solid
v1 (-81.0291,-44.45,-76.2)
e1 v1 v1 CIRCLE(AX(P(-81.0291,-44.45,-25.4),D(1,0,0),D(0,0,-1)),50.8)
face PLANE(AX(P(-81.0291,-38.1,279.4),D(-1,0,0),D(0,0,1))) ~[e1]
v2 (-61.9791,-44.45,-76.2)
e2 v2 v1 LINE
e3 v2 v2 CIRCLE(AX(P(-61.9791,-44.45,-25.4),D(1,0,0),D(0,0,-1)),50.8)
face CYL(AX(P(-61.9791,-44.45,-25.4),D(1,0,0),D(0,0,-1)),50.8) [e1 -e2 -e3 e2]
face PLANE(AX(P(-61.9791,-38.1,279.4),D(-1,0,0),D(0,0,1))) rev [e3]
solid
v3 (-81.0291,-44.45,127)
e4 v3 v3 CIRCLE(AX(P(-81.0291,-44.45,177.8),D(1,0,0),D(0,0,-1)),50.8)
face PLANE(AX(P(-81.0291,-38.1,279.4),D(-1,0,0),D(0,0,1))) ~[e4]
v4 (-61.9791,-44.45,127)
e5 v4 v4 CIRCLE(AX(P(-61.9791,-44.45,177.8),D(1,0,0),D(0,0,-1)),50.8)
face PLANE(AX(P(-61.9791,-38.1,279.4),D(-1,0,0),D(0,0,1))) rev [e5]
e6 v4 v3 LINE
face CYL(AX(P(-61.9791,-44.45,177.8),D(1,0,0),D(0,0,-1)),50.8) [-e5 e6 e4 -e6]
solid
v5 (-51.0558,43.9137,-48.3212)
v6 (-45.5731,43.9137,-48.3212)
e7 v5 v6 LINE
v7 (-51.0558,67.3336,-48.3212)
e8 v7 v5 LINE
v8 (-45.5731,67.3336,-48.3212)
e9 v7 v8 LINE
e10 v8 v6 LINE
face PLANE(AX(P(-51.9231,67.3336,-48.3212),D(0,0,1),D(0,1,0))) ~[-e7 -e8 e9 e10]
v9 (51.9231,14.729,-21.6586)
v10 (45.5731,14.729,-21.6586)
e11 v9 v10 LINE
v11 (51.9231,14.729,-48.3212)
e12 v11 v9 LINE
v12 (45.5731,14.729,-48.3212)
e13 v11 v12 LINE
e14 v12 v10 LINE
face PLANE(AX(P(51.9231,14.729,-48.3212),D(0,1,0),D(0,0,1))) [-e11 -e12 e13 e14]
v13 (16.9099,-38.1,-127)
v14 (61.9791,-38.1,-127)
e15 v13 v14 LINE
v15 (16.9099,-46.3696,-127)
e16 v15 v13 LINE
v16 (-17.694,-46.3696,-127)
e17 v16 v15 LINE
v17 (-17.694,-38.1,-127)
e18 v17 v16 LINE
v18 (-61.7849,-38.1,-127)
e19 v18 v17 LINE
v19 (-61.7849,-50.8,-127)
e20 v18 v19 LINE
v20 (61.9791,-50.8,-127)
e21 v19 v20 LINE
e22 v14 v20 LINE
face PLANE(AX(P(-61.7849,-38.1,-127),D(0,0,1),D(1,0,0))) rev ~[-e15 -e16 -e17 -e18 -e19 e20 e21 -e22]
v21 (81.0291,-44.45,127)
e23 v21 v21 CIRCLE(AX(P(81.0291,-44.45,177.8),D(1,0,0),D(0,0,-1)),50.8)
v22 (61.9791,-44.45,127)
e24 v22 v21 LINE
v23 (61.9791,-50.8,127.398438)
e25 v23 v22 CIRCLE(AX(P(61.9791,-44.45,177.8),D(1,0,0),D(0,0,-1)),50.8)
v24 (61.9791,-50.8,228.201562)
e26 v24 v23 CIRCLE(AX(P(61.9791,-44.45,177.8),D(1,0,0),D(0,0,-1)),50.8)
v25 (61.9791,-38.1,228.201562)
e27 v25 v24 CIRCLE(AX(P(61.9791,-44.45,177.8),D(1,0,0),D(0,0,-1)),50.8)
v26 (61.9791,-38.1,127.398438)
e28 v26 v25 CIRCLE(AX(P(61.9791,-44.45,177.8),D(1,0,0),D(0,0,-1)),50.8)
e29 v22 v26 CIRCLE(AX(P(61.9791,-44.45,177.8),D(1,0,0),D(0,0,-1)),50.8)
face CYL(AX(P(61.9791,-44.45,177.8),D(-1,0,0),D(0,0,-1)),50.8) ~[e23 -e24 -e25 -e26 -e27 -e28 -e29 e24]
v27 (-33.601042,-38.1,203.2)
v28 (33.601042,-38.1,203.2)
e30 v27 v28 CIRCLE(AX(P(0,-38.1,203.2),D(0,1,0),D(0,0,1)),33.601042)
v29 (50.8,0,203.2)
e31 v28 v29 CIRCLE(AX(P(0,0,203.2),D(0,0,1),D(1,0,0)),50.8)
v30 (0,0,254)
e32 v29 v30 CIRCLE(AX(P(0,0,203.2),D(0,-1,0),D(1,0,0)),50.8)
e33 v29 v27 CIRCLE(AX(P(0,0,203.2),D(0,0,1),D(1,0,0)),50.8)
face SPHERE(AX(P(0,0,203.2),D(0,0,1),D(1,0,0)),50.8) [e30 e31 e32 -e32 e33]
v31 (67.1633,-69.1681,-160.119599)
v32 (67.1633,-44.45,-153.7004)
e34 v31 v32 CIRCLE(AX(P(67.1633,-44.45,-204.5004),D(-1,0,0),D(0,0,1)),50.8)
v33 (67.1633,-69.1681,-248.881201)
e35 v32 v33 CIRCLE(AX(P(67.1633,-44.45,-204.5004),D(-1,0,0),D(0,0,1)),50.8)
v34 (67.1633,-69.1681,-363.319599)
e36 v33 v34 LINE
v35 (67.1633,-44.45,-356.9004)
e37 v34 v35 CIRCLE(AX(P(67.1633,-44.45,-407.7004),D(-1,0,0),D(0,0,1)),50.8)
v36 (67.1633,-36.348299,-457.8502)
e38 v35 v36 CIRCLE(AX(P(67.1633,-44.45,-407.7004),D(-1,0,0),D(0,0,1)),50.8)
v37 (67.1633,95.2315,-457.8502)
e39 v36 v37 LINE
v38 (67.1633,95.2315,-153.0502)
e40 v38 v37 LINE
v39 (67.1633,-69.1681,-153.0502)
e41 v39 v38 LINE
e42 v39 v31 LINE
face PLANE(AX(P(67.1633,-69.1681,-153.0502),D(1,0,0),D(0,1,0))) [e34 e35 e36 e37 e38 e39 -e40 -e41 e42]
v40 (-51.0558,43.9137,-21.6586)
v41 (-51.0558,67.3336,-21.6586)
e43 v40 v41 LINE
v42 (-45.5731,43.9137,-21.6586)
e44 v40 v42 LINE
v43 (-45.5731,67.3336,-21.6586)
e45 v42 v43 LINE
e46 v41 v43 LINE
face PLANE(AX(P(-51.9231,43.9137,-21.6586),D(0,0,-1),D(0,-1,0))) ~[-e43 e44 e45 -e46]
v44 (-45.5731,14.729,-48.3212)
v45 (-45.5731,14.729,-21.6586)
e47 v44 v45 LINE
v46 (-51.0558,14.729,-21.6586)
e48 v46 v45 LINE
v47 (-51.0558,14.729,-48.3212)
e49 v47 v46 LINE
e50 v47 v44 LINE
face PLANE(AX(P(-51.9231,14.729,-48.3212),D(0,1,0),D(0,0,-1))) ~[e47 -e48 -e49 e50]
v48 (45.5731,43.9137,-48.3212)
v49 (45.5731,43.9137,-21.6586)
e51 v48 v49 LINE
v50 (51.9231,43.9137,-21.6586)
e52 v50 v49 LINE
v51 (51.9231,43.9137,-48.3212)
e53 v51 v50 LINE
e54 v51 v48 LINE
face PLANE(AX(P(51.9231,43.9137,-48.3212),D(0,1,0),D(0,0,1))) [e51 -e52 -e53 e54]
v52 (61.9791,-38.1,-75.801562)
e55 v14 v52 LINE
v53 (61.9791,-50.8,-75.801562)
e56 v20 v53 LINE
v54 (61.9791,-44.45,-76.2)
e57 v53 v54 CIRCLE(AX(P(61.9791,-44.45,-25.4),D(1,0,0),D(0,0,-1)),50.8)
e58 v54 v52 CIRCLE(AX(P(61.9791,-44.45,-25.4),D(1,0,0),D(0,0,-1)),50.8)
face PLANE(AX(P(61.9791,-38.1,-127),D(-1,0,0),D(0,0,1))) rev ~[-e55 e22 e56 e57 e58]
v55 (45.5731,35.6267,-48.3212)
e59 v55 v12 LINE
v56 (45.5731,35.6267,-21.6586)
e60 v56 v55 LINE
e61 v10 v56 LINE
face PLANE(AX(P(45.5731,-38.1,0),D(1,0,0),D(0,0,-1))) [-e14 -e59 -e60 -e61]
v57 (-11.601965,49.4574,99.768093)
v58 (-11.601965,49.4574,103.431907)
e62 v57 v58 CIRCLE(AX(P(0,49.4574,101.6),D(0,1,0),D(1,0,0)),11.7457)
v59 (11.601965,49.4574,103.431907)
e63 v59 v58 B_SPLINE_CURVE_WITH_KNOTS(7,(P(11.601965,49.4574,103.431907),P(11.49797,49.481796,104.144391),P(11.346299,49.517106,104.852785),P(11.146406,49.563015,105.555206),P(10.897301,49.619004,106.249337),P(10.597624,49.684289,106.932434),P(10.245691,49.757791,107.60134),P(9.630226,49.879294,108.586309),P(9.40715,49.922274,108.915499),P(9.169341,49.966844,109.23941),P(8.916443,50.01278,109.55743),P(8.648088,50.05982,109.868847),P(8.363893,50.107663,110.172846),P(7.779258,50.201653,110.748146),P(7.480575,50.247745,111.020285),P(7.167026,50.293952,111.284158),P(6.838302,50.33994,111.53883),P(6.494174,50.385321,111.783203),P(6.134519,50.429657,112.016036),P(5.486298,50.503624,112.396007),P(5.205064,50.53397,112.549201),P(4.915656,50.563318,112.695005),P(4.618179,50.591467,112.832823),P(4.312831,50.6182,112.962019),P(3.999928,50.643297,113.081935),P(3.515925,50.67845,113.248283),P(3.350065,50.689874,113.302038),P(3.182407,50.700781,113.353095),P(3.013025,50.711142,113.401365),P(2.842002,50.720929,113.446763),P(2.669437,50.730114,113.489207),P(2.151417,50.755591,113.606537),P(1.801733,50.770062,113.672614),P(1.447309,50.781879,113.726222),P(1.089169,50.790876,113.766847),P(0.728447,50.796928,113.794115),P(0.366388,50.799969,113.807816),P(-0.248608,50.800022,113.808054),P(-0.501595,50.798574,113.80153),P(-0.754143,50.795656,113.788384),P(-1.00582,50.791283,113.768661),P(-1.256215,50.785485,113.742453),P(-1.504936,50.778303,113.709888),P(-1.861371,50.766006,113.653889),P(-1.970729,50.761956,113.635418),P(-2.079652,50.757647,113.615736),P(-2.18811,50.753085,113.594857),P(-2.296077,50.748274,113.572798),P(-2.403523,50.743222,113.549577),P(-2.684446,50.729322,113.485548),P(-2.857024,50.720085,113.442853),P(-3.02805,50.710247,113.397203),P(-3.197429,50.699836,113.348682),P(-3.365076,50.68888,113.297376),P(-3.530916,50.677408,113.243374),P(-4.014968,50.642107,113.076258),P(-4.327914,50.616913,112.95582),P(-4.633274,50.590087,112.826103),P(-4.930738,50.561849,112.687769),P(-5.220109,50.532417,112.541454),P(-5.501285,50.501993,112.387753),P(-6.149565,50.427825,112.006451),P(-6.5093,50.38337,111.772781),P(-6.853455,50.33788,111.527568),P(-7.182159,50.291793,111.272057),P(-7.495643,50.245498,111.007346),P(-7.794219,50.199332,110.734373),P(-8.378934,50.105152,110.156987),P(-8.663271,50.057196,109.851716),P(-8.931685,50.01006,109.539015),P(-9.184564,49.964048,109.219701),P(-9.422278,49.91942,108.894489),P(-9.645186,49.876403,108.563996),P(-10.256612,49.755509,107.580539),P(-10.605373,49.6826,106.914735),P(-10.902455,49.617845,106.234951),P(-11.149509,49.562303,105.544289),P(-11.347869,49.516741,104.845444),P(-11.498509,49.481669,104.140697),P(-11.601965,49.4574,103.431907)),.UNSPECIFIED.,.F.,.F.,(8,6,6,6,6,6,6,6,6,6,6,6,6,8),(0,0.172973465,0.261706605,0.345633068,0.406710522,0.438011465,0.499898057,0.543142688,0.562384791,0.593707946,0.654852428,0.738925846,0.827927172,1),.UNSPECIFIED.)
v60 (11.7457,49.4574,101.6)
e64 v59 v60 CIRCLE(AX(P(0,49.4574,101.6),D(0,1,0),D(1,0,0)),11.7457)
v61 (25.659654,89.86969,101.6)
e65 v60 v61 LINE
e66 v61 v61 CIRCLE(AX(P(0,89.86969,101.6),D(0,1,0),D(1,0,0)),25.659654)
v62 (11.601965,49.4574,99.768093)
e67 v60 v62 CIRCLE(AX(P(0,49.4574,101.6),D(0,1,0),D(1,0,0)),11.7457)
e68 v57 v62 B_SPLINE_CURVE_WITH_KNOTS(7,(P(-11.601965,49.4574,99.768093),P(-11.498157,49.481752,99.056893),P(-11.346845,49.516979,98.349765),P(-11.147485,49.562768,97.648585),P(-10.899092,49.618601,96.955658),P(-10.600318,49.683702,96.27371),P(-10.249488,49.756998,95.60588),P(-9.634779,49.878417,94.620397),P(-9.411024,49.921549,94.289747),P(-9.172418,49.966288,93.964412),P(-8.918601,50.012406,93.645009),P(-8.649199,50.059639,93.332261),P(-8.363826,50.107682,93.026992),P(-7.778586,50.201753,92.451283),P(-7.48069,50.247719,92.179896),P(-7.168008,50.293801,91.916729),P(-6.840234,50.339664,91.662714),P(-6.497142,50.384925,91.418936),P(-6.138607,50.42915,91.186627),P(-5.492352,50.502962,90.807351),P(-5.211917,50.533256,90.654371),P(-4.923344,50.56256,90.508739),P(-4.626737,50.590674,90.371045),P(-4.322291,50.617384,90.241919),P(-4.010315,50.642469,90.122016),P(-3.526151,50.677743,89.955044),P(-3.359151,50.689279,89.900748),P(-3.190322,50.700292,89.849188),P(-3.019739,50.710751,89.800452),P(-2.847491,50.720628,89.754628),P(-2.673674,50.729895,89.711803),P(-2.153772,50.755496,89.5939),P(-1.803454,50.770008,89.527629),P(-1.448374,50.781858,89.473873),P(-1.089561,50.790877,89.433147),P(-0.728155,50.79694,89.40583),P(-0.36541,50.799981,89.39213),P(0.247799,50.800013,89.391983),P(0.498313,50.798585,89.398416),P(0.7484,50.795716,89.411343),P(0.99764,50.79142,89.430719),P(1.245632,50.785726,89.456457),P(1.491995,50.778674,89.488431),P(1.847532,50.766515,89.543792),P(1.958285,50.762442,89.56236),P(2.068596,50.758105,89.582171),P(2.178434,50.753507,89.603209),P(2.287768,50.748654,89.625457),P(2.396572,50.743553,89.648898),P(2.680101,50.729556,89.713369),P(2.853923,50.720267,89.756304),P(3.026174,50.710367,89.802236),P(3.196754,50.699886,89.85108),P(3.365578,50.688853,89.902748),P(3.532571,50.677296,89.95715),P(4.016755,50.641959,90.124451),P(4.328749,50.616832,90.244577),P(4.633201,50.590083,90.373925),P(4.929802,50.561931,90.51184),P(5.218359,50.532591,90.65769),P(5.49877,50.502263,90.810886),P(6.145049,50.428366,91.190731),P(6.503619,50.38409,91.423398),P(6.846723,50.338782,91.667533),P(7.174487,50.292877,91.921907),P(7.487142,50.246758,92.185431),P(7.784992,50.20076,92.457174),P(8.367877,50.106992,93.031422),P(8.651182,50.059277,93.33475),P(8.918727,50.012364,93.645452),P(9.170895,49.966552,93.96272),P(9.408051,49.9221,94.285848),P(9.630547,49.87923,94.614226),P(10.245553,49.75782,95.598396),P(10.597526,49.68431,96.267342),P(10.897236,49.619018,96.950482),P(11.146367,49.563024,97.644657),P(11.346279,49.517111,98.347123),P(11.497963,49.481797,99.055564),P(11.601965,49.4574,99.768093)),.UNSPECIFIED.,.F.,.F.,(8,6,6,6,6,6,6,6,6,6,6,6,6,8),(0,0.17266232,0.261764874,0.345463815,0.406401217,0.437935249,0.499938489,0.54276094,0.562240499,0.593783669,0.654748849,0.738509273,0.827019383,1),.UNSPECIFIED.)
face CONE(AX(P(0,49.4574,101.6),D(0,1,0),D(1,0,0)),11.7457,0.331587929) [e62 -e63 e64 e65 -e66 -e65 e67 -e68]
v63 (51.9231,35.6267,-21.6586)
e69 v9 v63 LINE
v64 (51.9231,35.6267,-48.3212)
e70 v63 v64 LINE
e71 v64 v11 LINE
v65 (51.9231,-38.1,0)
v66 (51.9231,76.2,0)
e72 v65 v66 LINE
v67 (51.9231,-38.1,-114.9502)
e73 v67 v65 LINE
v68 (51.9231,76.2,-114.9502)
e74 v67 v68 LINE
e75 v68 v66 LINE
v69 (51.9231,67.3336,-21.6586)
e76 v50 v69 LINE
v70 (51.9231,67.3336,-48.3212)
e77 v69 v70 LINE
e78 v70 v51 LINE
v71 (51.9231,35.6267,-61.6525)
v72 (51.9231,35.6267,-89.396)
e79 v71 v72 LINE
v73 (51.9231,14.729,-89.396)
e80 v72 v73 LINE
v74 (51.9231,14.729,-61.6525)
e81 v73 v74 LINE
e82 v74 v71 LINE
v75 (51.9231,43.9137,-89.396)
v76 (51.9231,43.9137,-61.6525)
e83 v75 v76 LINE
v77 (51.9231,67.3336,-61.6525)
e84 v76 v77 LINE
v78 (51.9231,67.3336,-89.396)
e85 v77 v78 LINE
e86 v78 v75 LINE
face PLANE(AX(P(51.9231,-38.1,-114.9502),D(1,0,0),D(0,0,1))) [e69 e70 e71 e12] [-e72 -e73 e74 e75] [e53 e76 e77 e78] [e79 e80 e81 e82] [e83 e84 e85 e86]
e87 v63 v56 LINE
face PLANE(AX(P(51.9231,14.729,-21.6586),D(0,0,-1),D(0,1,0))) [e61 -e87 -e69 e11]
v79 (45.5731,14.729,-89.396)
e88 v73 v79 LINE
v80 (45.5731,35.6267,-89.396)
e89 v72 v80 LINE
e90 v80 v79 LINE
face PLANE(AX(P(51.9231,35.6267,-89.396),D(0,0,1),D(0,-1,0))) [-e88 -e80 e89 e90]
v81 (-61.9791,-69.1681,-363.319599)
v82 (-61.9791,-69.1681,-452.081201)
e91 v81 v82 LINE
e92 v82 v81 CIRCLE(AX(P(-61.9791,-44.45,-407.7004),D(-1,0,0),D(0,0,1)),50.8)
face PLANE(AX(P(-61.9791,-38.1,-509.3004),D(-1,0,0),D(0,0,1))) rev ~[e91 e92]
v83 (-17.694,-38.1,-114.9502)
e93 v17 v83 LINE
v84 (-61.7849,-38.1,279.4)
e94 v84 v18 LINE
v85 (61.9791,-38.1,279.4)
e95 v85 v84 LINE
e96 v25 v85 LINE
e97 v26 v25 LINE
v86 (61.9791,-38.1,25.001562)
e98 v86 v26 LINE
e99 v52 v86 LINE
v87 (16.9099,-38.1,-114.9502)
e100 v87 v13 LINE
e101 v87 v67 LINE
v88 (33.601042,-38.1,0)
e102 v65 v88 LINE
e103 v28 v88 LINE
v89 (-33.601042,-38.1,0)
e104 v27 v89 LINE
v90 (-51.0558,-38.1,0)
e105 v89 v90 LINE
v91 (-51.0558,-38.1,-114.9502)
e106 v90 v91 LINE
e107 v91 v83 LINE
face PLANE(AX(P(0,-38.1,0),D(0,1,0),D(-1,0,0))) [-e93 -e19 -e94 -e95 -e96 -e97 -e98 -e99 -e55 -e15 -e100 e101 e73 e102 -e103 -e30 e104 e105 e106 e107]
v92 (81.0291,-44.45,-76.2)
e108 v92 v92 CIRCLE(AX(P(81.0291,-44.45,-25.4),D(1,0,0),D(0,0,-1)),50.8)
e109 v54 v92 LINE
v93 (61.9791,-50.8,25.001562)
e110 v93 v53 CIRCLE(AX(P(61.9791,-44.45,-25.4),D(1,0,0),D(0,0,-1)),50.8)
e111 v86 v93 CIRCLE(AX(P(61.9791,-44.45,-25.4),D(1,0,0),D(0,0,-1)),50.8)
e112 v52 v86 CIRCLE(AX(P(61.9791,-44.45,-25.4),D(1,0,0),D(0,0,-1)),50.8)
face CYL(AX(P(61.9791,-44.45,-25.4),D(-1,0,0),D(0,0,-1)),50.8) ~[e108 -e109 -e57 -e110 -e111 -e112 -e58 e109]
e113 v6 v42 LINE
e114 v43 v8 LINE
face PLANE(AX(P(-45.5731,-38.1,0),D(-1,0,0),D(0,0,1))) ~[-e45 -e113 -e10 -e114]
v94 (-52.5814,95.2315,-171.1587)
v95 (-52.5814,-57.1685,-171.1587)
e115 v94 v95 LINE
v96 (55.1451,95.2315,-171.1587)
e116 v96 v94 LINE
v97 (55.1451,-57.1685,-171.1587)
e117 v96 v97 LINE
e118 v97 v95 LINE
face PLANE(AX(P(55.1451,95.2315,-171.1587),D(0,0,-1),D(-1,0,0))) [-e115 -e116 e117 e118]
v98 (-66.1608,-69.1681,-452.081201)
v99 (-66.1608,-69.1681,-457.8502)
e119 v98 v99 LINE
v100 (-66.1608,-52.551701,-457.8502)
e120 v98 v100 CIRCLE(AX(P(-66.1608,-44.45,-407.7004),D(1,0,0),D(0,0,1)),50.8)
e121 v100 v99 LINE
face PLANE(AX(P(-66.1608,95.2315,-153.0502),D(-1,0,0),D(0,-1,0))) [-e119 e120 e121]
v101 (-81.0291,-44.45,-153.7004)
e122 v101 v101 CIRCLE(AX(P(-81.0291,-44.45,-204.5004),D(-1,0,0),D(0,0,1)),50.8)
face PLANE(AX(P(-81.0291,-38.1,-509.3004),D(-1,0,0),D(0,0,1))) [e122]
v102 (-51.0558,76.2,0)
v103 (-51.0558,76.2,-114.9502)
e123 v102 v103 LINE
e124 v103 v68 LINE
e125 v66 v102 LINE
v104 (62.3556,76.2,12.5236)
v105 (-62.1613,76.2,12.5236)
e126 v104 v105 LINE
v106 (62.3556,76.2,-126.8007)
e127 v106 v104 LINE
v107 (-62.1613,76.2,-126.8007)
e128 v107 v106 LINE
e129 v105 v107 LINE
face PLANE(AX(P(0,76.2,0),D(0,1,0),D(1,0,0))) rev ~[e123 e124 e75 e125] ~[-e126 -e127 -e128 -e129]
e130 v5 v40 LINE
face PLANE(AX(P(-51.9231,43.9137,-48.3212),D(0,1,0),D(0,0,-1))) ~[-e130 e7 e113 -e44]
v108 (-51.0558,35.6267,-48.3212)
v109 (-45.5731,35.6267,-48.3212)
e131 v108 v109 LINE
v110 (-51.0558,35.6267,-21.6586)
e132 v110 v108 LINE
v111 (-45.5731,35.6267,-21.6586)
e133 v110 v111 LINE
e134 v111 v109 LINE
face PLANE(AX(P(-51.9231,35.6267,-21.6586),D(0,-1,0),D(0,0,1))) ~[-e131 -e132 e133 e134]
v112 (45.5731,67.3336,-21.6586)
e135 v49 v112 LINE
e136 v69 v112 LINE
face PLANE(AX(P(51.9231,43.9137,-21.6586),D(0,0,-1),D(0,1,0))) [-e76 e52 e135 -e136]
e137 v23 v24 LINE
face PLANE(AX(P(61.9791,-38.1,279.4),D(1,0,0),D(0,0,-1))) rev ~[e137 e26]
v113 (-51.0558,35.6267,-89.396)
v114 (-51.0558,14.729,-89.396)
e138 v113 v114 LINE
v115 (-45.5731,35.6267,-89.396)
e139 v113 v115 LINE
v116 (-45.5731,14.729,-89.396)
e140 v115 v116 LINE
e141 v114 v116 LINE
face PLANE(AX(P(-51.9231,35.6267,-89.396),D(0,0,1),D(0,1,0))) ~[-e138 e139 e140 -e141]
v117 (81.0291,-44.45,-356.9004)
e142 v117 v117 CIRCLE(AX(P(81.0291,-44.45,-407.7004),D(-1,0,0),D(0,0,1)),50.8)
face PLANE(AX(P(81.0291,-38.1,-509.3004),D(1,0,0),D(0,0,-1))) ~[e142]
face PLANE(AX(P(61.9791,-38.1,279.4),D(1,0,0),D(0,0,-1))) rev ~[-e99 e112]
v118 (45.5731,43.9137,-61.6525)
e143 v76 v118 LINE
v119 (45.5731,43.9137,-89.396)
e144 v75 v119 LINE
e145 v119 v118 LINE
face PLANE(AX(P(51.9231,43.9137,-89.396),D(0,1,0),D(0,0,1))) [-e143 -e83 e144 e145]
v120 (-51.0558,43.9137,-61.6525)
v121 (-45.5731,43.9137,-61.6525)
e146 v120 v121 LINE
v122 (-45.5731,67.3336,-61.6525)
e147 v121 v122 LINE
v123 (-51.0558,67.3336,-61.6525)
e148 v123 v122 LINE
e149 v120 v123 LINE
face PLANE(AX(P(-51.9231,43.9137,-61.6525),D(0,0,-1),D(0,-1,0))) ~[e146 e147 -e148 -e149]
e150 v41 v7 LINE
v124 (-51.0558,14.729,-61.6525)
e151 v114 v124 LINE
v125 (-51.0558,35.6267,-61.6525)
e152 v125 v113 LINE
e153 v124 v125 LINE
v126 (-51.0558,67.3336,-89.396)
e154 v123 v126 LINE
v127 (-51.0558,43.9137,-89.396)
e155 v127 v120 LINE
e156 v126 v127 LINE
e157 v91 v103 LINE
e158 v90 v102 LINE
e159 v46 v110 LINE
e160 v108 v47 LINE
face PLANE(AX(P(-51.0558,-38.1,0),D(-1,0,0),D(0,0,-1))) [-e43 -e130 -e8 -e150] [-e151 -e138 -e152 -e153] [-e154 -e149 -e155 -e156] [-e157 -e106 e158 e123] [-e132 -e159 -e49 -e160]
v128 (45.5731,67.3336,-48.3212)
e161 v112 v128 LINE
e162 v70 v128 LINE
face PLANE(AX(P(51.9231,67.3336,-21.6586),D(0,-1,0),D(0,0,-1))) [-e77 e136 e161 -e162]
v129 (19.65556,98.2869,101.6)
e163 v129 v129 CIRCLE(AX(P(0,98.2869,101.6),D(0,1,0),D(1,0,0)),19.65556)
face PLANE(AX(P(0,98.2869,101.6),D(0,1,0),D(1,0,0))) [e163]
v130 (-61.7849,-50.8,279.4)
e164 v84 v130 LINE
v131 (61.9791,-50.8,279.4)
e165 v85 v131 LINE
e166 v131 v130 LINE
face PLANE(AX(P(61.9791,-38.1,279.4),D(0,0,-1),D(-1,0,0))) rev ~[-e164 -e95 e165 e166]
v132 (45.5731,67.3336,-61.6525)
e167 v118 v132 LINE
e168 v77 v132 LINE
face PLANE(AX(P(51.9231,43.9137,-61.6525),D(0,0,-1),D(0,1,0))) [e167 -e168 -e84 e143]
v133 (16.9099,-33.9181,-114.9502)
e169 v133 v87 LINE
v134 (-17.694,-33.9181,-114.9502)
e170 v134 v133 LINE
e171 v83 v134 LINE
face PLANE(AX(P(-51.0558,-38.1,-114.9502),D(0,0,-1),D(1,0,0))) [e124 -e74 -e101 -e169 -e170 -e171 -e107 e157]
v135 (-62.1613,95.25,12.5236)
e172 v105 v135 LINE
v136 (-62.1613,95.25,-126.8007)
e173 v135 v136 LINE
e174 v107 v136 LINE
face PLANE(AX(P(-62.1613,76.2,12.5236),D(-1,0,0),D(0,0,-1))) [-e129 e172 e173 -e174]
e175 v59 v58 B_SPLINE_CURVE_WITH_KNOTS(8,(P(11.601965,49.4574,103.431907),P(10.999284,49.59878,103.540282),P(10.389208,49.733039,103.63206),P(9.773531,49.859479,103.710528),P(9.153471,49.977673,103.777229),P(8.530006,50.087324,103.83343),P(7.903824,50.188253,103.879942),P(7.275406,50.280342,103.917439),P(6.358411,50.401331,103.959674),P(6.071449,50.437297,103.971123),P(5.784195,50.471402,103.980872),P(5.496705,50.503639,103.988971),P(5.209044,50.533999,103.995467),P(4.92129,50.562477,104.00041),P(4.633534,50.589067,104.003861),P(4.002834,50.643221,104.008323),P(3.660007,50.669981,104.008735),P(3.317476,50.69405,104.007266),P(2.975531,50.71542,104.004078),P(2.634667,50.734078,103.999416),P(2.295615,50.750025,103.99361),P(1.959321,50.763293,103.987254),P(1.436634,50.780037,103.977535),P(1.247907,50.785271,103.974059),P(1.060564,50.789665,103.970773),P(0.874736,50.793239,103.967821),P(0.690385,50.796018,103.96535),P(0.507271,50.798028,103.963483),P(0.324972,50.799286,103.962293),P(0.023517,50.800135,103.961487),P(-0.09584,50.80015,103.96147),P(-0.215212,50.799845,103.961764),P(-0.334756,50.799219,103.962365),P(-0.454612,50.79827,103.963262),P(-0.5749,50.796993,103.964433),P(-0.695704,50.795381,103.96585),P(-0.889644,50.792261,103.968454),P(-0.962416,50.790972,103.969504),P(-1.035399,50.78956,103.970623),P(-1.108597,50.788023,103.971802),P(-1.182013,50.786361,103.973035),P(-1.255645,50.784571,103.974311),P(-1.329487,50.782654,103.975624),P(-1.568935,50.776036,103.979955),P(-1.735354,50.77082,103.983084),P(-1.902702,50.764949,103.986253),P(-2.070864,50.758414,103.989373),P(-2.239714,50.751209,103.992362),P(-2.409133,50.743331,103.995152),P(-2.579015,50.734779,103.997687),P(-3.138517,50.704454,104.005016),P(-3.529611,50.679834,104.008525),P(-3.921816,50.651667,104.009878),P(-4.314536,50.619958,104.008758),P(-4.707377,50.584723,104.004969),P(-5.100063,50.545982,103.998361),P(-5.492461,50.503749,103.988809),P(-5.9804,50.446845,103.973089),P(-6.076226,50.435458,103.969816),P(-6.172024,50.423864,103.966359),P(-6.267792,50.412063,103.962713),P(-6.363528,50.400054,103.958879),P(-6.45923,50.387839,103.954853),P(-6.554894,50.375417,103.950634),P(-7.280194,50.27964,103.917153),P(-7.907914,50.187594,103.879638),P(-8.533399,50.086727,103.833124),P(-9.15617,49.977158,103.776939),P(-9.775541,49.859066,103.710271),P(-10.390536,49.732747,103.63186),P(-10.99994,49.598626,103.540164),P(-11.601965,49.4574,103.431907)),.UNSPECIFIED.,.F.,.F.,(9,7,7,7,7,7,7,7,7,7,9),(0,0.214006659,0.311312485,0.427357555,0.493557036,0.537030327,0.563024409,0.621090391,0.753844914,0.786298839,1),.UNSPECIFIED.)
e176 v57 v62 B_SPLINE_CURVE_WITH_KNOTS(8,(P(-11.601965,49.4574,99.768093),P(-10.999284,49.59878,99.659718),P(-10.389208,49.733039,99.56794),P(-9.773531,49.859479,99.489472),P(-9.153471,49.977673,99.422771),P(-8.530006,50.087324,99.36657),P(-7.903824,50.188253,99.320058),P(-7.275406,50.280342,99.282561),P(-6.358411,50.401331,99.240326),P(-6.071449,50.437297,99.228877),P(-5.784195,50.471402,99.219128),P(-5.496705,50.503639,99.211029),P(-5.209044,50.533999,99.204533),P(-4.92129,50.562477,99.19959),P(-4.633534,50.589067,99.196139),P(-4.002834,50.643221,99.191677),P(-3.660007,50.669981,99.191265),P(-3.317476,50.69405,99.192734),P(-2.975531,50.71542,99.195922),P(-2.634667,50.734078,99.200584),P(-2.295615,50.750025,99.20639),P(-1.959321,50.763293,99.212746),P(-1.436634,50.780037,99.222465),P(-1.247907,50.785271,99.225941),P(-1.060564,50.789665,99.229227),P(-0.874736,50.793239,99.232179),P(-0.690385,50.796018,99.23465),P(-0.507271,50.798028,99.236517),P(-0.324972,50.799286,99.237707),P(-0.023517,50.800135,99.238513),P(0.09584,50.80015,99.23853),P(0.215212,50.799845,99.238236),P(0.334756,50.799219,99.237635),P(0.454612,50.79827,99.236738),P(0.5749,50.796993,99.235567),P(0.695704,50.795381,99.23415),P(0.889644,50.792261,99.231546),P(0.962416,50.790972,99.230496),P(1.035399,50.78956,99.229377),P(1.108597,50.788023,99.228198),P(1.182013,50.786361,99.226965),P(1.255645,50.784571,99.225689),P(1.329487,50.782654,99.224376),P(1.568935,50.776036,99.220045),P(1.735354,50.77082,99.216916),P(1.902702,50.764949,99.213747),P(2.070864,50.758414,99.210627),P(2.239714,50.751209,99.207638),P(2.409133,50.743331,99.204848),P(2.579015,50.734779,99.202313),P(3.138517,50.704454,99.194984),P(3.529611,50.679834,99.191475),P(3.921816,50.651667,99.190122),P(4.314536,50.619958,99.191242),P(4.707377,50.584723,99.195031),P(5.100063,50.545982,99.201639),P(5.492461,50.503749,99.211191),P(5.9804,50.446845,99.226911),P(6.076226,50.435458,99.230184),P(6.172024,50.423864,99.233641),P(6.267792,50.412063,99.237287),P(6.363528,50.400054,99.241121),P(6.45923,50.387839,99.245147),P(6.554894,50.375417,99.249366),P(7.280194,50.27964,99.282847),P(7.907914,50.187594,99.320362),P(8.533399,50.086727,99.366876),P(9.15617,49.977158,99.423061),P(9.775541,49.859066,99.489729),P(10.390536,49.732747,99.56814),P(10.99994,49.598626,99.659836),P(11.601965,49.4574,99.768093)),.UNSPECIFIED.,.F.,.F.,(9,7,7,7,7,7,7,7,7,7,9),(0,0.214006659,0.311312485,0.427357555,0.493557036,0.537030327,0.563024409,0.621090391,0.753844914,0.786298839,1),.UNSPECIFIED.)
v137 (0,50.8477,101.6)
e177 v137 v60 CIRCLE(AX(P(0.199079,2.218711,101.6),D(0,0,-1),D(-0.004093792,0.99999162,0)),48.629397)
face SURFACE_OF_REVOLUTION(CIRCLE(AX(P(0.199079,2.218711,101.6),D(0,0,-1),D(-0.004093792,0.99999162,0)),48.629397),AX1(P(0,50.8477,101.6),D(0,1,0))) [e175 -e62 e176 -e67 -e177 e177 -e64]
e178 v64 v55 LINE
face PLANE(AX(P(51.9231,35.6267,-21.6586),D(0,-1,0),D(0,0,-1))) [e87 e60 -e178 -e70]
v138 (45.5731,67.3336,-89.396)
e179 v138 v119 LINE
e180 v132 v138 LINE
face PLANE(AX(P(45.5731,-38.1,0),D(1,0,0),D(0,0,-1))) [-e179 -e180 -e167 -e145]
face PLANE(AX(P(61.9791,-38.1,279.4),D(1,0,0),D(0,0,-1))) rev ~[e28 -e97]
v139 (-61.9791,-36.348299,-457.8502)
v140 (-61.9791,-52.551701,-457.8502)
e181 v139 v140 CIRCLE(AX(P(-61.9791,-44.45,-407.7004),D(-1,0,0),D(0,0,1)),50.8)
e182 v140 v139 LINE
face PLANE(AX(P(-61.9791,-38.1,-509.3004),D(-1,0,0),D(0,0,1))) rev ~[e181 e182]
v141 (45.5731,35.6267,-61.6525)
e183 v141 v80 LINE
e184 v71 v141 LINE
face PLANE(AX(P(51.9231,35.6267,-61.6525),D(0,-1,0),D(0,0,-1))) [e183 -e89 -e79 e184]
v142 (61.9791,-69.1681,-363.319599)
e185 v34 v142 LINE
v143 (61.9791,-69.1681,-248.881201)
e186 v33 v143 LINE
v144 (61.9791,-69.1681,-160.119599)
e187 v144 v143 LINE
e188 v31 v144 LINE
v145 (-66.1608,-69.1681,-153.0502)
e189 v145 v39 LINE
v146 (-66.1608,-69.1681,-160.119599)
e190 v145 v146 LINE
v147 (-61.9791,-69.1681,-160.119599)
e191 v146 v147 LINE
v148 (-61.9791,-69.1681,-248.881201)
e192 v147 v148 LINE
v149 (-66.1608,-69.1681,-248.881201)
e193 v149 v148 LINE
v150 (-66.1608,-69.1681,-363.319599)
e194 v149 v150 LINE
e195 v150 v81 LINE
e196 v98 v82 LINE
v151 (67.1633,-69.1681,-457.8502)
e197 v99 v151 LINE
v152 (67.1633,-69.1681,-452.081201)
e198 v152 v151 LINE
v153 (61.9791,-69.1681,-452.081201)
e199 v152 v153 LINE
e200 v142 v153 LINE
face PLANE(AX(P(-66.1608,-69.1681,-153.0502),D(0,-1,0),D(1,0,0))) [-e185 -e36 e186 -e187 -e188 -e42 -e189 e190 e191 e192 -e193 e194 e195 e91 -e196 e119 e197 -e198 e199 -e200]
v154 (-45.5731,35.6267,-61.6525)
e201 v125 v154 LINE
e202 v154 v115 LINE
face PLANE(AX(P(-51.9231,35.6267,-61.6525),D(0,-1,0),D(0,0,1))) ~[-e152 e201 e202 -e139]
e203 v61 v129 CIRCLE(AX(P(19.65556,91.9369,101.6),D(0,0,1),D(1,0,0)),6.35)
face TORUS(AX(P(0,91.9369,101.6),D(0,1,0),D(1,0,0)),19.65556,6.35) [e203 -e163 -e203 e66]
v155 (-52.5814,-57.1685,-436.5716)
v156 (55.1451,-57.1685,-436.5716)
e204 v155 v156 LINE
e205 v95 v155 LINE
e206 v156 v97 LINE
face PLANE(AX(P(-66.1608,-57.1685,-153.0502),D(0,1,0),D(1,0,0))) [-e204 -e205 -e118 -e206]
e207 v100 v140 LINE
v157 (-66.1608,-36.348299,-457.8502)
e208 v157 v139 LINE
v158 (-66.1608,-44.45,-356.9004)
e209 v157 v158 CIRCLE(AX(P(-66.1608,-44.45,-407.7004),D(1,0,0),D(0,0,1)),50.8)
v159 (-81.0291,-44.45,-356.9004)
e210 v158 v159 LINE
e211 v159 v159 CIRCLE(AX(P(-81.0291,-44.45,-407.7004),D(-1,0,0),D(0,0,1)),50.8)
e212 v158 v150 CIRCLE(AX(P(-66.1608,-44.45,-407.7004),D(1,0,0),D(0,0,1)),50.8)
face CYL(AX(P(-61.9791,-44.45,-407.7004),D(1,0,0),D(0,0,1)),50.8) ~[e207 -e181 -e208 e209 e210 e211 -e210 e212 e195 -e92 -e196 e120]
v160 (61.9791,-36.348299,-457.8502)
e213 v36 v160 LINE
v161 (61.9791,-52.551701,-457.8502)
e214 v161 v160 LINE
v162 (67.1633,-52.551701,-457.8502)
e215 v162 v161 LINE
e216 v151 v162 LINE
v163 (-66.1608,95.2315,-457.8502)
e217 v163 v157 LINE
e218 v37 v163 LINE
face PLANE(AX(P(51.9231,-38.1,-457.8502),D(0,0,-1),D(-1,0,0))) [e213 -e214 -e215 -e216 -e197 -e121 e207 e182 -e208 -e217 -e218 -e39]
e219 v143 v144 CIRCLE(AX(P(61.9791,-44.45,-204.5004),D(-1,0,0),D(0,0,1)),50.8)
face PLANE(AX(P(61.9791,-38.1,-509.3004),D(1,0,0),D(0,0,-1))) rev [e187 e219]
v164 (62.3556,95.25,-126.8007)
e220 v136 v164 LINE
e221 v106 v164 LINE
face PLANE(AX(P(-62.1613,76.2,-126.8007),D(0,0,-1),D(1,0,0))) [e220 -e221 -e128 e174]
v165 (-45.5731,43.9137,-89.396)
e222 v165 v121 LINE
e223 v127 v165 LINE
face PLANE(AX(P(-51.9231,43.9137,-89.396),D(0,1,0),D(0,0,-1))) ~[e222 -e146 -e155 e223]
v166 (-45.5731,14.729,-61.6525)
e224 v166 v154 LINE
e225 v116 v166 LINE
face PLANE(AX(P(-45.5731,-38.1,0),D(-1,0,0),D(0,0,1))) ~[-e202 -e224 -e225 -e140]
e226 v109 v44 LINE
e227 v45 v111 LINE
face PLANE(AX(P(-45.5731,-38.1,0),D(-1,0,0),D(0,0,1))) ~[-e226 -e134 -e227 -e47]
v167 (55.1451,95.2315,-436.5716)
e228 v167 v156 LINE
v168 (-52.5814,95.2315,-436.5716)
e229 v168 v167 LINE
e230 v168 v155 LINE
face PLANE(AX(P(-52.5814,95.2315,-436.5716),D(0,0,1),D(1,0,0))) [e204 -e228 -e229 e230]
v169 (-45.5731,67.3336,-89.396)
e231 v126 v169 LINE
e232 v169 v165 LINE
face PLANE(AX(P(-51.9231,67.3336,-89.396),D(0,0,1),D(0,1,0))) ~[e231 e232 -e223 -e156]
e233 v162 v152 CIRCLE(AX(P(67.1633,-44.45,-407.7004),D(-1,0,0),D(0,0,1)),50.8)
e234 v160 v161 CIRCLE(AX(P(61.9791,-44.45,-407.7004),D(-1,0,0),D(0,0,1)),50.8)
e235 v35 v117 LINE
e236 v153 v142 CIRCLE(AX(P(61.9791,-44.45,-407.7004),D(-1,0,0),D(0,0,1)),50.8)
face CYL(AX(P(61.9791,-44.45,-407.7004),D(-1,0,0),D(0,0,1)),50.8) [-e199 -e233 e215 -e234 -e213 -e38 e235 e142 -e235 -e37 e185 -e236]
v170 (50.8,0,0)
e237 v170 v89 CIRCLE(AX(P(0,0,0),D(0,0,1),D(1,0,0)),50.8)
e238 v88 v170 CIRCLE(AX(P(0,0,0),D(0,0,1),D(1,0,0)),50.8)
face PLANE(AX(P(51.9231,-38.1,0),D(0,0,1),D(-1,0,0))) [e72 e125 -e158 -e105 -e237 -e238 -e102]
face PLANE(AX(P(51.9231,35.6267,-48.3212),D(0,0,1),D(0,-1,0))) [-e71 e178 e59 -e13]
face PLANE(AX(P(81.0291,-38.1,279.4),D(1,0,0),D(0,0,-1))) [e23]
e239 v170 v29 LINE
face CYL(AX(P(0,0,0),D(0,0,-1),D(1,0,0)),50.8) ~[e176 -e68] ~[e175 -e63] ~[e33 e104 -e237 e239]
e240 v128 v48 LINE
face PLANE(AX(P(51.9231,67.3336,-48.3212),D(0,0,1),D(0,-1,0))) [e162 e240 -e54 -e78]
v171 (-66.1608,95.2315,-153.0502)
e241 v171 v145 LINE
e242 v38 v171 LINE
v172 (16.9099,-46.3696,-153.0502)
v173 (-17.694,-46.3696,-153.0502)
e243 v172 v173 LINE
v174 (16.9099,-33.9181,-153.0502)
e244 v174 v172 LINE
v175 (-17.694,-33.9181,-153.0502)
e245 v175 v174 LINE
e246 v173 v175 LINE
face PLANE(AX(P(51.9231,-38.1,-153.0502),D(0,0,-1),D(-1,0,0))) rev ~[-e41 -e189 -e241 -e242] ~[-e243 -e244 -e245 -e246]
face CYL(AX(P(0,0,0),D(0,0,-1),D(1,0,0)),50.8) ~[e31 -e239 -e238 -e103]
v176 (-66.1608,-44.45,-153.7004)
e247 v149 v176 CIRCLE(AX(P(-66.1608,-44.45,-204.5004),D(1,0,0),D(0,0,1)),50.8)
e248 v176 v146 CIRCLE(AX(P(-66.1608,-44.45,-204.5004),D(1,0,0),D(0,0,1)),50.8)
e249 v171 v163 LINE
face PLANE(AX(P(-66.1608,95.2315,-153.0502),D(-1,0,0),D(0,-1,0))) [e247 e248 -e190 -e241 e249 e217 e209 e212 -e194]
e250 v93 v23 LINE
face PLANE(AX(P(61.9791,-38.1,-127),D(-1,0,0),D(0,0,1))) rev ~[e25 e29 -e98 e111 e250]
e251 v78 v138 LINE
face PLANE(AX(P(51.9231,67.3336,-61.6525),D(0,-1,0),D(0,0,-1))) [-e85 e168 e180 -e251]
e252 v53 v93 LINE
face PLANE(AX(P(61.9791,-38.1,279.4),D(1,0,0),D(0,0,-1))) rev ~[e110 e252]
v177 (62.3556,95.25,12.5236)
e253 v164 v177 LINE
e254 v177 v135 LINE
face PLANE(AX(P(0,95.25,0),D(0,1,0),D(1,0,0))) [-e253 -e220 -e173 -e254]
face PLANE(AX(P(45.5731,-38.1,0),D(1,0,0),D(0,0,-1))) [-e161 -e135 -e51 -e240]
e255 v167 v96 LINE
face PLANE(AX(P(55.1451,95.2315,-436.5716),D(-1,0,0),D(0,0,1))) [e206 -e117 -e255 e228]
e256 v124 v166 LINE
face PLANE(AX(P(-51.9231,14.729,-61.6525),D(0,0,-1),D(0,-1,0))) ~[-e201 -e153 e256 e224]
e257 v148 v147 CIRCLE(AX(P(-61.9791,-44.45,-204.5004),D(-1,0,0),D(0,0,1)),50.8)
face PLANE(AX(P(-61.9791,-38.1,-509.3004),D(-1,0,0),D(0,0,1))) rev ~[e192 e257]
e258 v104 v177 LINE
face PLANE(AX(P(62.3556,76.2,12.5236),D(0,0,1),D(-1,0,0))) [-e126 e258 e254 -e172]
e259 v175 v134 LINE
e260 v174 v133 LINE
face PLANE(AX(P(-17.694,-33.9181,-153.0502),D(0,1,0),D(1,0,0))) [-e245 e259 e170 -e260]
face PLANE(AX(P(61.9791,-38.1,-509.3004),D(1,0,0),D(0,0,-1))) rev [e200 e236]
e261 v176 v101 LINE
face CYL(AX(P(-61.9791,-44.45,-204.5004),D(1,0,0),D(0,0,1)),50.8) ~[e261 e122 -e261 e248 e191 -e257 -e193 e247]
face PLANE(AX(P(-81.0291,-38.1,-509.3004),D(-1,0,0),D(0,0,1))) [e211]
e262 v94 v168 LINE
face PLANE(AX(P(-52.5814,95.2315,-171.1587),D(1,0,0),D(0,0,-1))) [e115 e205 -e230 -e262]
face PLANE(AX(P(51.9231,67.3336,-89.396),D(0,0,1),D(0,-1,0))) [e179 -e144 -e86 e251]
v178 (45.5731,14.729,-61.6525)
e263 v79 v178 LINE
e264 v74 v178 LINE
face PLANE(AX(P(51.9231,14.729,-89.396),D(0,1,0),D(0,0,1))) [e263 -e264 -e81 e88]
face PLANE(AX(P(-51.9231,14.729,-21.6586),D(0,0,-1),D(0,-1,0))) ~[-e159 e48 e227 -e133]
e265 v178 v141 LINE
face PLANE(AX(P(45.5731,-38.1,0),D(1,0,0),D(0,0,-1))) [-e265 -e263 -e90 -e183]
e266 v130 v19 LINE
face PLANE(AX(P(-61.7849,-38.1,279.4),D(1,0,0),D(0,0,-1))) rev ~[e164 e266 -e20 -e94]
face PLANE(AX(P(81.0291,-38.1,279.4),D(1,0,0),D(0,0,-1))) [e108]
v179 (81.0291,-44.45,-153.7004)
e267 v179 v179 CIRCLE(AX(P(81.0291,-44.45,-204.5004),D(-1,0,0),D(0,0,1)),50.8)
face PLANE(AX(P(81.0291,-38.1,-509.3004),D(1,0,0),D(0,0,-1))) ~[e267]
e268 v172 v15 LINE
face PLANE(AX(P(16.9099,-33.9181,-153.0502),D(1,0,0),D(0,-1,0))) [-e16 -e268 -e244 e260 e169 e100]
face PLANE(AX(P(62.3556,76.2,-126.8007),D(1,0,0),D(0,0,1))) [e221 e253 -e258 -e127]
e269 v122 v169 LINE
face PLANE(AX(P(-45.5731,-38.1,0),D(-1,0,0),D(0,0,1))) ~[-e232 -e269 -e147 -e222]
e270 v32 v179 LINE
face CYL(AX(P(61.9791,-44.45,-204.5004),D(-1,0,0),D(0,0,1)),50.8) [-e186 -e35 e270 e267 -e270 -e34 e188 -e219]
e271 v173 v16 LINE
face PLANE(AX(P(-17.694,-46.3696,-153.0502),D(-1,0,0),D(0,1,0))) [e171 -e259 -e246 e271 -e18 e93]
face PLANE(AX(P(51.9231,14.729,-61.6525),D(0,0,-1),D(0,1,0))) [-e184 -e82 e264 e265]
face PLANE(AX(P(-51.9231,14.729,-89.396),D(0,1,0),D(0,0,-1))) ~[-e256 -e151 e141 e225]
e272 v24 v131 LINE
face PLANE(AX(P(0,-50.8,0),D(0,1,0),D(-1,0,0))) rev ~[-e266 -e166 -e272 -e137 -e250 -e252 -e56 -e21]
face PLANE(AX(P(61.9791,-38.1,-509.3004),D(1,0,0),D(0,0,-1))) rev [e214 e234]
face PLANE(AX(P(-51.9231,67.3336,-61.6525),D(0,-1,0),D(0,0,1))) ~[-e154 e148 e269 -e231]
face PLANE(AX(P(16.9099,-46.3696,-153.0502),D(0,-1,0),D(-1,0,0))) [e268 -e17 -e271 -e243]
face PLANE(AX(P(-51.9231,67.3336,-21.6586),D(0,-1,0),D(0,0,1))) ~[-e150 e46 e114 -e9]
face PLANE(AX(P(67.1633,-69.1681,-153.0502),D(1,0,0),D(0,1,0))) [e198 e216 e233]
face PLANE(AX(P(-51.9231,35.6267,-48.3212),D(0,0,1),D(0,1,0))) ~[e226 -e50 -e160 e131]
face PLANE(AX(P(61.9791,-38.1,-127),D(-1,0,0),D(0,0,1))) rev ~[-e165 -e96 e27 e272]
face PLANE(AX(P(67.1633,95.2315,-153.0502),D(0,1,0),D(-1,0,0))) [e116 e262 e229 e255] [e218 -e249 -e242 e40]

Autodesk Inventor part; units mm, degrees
sketch "Sketch1" plane through (0, 0, 0) normal (0, 0, 1) x (1, 0, 0)
  circle A0 centre (0, 0) radius 50.8
  dimension "d6" = 101.6
extrude "Extrusion1" add sketch "Sketch1" along normal blind 254
fillet "Fillet1" radius 50.8 1 edges at (-50.8, 0, 254)
ref_plane "Work Plane1" through (0, 0, 101.6) normal (0, 0, -1) x (-1, 0, 0)
sketch "Sketch2" plane through (0, 0, 101.6) normal (0, 0, -1) x (-1, 0, 0)
  line L0 (-11.7457, 49.4574) -> (-28.5577, 98.2869)
  line L1 (-28.5577, 98.2869) -> (0, 98.2869)
  arc A0 (0, 50.8477) -> (-11.7457, 49.4574) centre (-0.1993, 2.2226) ccw
  line L2 (0, 50.8477) -> (0, 98.2869)
  point P0 (0, 0)
revolve "Revolution1" add sketch "Sketch2" angle 360 about axis through (0, 50.8477, 101.6) along (0, 1, 0)
fillet "Fillet2" radius 6.35 1 edges at (-28.5577, 98.2869, 101.6)
sketch "Sketch6" plane through (0, 0, 0) normal (1, 0, 0) x (0, 1, 0)
  point P0 (0, 0)
ref_plane "Work Plane2" through (0, -38.1, 0) normal (0, 1, 0) x (-1, 0, 0)
sketch "Sketch7" plane through (0, -38.1, 0) normal (0, 1, 0) x (-1, 0, 0)
  line L0 (-61.9791, 279.4) -> (61.7849, 279.4)
  line L1 (61.7849, 279.4) -> (61.7849, -127)
  line L2 (61.7849, -127) -> (-61.9791, -127)
  line L3 (-61.9791, -127) -> (-61.9791, 279.4)
  line L4 (-50.8, 0) -> (50.8, 0) projected
  point P0 (0, 0)
  dimension "d28" = 279.4
  dimension "d29" = 127
extrude "Extrusion3" add sketch "Sketch7" against normal blind 12.7
sketch "Sketch8" plane through (0, -38.1, 0) normal (0, 1, 0) x (1, 0, 0)
  line L0 (-51.0558, 114.9502) -> (51.9231, 114.9502)
  line L1 (51.9231, 114.9502) -> (51.9231, 0)
  line L2 (51.9231, 0) -> (-51.0558, 0)
  line L3 (-51.0558, 0) -> (-51.0558, 114.9502)
  point P0 (0, 0)
extrude "Extrusion4" add sketch "Sketch8" along normal blind 114.3
sketch "Sketch9" plane through (0, 76.2, 0) normal (0, 1, 0) x (1, 0, 0)
  line L0 (-62.1613, 126.8007) -> (62.3556, 126.8007)
  line L1 (62.3556, 126.8007) -> (62.3556, -12.5236)
  line L2 (62.3556, -12.5236) -> (-62.1613, -12.5236)
  line L3 (-62.1613, -12.5236) -> (-62.1613, 126.8007)
  point P0 (0, 0)
extrude "Extrusion5" add sketch "Sketch9" along normal blind 19.05
sketch "Sketch10" plane through (61.9791, -38.1, 279.4) normal (1, 0, 0) x (0, 0, -1)
  line L0 (406.4, 0) -> (406.4, -12.7) projected
  line L1 (0, 0) -> (0, -12.7) projected
  circle A0 centre (101.6, -6.35) radius 50.8
  circle A1 centre (304.8, -6.35) radius 50.8
  point P0 (279.4, 38.1)
  dimension "d36" = 101.6
  dimension "d37" = 101.6
  dimension "d38" = 101.6
  dimension "d39" = 101.6
extrude "Extrusion6" add sketch "Sketch10" along normal blind 19.05
mirror "Mirror1" about plane through (0, 0, 0) normal (1, 0, 0) of "Extrusion6"
sketch "Sketch11" plane through (51.9231, -38.1, 0) normal (1, 0, 0) x (0, 0, -1)
  line L0 (21.6586, 105.4336) -> (48.3212, 105.4336)
  line L1 (48.3212, 105.4336) -> (48.3212, 82.0137)
  line L2 (48.3212, 82.0137) -> (21.6586, 82.0137)
  line L3 (21.6586, 82.0137) -> (21.6586, 105.4336)
  line L4 (61.6525, 105.4336) -> (89.396, 105.4336)
  line L5 (89.396, 105.4336) -> (89.396, 82.0137)
  line L6 (89.396, 82.0137) -> (61.6525, 82.0137)
  line L7 (61.6525, 82.0137) -> (61.6525, 105.4336)
  line L8 (21.6586, 73.7267) -> (48.3212, 73.7267)
  line L9 (48.3212, 73.7267) -> (48.3212, 52.829)
  line L10 (48.3212, 52.829) -> (21.6586, 52.829)
  line L11 (21.6586, 52.829) -> (21.6586, 73.7267)
  line L12 (61.6525, 73.7267) -> (89.396, 73.7267)
  line L13 (89.396, 73.7267) -> (89.396, 52.829)
  line L14 (89.396, 52.829) -> (61.6525, 52.829)
  line L15 (61.6525, 52.829) -> (61.6525, 73.7267)
  point P0 (0, 38.1)
extrude "Extrusion7" cut sketch "Sketch11" against normal blind 6.35
mirror "Mirror2" about plane through (0, 0, 0) normal (1, 0, 0) of "Extrusion7"
ref_plane "Work Plane3" through (51.9231, -38.1, -153.0502) normal (0, 0, -1) x (-1, 0, 0)
sketch "Sketch12" plane through (51.9231, -38.1, -153.0502) normal (0, 0, -1) x (-1, 0, 0)
  line L0 (-15.2402, 133.3315) -> (118.0839, 133.3315)
  line L1 (118.0839, 133.3315) -> (118.0839, -31.0681)
  line L2 (118.0839, -31.0681) -> (-15.2402, -31.0681)
  line L3 (-15.2402, -31.0681) -> (-15.2402, 133.3315)
  point P0 (51.9231, 38.1)
extrude "Extrusion8" add sketch "Sketch12" along normal blind 304.8
mirror "Mirror3" about plane through (-51.0558, -38.1, -114.9502) normal (0, 0, -1) of "Extrusion6"
mirror "Mirror4" about plane through (0, 0, 0) normal (1, 0, 0) of "Extrusion6", "Mirror3"
sketch "Sketch13" plane through (-66.1608, 95.2315, -153.0502) normal (0, 1, 0) x (1, 0, 0)
  line L0 (13.5794, 283.5214) -> (121.3059, 283.5214)
  line L1 (121.3059, 283.5214) -> (121.3059, 18.1085)
  line L2 (121.3059, 18.1085) -> (13.5794, 18.1085)
  line L3 (13.5794, 18.1085) -> (13.5794, 283.5214)
  point P0 (66.1608, -153.0502)
extrude "Extrusion9" cut sketch "Sketch13" against normal blind 152.4
sketch "Sketch14" plane through (51.9231, -38.1, -153.0502) normal (0, 0, 1) x (1, 0, 0)
  line L0 (-69.6171, 4.1819) -> (-35.0132, 4.1819)
  line L1 (-35.0132, 4.1819) -> (-35.0132, -8.2696)
  line L2 (-35.0132, -8.2696) -> (-69.6171, -8.2696)
  line L3 (-69.6171, -8.2696) -> (-69.6171, 4.1819)
  point P0 (-51.9231, 38.1)
extrude "Extrusion10" add sketch "Sketch14" along normal blind 50.8
properties part number "trainRed"
